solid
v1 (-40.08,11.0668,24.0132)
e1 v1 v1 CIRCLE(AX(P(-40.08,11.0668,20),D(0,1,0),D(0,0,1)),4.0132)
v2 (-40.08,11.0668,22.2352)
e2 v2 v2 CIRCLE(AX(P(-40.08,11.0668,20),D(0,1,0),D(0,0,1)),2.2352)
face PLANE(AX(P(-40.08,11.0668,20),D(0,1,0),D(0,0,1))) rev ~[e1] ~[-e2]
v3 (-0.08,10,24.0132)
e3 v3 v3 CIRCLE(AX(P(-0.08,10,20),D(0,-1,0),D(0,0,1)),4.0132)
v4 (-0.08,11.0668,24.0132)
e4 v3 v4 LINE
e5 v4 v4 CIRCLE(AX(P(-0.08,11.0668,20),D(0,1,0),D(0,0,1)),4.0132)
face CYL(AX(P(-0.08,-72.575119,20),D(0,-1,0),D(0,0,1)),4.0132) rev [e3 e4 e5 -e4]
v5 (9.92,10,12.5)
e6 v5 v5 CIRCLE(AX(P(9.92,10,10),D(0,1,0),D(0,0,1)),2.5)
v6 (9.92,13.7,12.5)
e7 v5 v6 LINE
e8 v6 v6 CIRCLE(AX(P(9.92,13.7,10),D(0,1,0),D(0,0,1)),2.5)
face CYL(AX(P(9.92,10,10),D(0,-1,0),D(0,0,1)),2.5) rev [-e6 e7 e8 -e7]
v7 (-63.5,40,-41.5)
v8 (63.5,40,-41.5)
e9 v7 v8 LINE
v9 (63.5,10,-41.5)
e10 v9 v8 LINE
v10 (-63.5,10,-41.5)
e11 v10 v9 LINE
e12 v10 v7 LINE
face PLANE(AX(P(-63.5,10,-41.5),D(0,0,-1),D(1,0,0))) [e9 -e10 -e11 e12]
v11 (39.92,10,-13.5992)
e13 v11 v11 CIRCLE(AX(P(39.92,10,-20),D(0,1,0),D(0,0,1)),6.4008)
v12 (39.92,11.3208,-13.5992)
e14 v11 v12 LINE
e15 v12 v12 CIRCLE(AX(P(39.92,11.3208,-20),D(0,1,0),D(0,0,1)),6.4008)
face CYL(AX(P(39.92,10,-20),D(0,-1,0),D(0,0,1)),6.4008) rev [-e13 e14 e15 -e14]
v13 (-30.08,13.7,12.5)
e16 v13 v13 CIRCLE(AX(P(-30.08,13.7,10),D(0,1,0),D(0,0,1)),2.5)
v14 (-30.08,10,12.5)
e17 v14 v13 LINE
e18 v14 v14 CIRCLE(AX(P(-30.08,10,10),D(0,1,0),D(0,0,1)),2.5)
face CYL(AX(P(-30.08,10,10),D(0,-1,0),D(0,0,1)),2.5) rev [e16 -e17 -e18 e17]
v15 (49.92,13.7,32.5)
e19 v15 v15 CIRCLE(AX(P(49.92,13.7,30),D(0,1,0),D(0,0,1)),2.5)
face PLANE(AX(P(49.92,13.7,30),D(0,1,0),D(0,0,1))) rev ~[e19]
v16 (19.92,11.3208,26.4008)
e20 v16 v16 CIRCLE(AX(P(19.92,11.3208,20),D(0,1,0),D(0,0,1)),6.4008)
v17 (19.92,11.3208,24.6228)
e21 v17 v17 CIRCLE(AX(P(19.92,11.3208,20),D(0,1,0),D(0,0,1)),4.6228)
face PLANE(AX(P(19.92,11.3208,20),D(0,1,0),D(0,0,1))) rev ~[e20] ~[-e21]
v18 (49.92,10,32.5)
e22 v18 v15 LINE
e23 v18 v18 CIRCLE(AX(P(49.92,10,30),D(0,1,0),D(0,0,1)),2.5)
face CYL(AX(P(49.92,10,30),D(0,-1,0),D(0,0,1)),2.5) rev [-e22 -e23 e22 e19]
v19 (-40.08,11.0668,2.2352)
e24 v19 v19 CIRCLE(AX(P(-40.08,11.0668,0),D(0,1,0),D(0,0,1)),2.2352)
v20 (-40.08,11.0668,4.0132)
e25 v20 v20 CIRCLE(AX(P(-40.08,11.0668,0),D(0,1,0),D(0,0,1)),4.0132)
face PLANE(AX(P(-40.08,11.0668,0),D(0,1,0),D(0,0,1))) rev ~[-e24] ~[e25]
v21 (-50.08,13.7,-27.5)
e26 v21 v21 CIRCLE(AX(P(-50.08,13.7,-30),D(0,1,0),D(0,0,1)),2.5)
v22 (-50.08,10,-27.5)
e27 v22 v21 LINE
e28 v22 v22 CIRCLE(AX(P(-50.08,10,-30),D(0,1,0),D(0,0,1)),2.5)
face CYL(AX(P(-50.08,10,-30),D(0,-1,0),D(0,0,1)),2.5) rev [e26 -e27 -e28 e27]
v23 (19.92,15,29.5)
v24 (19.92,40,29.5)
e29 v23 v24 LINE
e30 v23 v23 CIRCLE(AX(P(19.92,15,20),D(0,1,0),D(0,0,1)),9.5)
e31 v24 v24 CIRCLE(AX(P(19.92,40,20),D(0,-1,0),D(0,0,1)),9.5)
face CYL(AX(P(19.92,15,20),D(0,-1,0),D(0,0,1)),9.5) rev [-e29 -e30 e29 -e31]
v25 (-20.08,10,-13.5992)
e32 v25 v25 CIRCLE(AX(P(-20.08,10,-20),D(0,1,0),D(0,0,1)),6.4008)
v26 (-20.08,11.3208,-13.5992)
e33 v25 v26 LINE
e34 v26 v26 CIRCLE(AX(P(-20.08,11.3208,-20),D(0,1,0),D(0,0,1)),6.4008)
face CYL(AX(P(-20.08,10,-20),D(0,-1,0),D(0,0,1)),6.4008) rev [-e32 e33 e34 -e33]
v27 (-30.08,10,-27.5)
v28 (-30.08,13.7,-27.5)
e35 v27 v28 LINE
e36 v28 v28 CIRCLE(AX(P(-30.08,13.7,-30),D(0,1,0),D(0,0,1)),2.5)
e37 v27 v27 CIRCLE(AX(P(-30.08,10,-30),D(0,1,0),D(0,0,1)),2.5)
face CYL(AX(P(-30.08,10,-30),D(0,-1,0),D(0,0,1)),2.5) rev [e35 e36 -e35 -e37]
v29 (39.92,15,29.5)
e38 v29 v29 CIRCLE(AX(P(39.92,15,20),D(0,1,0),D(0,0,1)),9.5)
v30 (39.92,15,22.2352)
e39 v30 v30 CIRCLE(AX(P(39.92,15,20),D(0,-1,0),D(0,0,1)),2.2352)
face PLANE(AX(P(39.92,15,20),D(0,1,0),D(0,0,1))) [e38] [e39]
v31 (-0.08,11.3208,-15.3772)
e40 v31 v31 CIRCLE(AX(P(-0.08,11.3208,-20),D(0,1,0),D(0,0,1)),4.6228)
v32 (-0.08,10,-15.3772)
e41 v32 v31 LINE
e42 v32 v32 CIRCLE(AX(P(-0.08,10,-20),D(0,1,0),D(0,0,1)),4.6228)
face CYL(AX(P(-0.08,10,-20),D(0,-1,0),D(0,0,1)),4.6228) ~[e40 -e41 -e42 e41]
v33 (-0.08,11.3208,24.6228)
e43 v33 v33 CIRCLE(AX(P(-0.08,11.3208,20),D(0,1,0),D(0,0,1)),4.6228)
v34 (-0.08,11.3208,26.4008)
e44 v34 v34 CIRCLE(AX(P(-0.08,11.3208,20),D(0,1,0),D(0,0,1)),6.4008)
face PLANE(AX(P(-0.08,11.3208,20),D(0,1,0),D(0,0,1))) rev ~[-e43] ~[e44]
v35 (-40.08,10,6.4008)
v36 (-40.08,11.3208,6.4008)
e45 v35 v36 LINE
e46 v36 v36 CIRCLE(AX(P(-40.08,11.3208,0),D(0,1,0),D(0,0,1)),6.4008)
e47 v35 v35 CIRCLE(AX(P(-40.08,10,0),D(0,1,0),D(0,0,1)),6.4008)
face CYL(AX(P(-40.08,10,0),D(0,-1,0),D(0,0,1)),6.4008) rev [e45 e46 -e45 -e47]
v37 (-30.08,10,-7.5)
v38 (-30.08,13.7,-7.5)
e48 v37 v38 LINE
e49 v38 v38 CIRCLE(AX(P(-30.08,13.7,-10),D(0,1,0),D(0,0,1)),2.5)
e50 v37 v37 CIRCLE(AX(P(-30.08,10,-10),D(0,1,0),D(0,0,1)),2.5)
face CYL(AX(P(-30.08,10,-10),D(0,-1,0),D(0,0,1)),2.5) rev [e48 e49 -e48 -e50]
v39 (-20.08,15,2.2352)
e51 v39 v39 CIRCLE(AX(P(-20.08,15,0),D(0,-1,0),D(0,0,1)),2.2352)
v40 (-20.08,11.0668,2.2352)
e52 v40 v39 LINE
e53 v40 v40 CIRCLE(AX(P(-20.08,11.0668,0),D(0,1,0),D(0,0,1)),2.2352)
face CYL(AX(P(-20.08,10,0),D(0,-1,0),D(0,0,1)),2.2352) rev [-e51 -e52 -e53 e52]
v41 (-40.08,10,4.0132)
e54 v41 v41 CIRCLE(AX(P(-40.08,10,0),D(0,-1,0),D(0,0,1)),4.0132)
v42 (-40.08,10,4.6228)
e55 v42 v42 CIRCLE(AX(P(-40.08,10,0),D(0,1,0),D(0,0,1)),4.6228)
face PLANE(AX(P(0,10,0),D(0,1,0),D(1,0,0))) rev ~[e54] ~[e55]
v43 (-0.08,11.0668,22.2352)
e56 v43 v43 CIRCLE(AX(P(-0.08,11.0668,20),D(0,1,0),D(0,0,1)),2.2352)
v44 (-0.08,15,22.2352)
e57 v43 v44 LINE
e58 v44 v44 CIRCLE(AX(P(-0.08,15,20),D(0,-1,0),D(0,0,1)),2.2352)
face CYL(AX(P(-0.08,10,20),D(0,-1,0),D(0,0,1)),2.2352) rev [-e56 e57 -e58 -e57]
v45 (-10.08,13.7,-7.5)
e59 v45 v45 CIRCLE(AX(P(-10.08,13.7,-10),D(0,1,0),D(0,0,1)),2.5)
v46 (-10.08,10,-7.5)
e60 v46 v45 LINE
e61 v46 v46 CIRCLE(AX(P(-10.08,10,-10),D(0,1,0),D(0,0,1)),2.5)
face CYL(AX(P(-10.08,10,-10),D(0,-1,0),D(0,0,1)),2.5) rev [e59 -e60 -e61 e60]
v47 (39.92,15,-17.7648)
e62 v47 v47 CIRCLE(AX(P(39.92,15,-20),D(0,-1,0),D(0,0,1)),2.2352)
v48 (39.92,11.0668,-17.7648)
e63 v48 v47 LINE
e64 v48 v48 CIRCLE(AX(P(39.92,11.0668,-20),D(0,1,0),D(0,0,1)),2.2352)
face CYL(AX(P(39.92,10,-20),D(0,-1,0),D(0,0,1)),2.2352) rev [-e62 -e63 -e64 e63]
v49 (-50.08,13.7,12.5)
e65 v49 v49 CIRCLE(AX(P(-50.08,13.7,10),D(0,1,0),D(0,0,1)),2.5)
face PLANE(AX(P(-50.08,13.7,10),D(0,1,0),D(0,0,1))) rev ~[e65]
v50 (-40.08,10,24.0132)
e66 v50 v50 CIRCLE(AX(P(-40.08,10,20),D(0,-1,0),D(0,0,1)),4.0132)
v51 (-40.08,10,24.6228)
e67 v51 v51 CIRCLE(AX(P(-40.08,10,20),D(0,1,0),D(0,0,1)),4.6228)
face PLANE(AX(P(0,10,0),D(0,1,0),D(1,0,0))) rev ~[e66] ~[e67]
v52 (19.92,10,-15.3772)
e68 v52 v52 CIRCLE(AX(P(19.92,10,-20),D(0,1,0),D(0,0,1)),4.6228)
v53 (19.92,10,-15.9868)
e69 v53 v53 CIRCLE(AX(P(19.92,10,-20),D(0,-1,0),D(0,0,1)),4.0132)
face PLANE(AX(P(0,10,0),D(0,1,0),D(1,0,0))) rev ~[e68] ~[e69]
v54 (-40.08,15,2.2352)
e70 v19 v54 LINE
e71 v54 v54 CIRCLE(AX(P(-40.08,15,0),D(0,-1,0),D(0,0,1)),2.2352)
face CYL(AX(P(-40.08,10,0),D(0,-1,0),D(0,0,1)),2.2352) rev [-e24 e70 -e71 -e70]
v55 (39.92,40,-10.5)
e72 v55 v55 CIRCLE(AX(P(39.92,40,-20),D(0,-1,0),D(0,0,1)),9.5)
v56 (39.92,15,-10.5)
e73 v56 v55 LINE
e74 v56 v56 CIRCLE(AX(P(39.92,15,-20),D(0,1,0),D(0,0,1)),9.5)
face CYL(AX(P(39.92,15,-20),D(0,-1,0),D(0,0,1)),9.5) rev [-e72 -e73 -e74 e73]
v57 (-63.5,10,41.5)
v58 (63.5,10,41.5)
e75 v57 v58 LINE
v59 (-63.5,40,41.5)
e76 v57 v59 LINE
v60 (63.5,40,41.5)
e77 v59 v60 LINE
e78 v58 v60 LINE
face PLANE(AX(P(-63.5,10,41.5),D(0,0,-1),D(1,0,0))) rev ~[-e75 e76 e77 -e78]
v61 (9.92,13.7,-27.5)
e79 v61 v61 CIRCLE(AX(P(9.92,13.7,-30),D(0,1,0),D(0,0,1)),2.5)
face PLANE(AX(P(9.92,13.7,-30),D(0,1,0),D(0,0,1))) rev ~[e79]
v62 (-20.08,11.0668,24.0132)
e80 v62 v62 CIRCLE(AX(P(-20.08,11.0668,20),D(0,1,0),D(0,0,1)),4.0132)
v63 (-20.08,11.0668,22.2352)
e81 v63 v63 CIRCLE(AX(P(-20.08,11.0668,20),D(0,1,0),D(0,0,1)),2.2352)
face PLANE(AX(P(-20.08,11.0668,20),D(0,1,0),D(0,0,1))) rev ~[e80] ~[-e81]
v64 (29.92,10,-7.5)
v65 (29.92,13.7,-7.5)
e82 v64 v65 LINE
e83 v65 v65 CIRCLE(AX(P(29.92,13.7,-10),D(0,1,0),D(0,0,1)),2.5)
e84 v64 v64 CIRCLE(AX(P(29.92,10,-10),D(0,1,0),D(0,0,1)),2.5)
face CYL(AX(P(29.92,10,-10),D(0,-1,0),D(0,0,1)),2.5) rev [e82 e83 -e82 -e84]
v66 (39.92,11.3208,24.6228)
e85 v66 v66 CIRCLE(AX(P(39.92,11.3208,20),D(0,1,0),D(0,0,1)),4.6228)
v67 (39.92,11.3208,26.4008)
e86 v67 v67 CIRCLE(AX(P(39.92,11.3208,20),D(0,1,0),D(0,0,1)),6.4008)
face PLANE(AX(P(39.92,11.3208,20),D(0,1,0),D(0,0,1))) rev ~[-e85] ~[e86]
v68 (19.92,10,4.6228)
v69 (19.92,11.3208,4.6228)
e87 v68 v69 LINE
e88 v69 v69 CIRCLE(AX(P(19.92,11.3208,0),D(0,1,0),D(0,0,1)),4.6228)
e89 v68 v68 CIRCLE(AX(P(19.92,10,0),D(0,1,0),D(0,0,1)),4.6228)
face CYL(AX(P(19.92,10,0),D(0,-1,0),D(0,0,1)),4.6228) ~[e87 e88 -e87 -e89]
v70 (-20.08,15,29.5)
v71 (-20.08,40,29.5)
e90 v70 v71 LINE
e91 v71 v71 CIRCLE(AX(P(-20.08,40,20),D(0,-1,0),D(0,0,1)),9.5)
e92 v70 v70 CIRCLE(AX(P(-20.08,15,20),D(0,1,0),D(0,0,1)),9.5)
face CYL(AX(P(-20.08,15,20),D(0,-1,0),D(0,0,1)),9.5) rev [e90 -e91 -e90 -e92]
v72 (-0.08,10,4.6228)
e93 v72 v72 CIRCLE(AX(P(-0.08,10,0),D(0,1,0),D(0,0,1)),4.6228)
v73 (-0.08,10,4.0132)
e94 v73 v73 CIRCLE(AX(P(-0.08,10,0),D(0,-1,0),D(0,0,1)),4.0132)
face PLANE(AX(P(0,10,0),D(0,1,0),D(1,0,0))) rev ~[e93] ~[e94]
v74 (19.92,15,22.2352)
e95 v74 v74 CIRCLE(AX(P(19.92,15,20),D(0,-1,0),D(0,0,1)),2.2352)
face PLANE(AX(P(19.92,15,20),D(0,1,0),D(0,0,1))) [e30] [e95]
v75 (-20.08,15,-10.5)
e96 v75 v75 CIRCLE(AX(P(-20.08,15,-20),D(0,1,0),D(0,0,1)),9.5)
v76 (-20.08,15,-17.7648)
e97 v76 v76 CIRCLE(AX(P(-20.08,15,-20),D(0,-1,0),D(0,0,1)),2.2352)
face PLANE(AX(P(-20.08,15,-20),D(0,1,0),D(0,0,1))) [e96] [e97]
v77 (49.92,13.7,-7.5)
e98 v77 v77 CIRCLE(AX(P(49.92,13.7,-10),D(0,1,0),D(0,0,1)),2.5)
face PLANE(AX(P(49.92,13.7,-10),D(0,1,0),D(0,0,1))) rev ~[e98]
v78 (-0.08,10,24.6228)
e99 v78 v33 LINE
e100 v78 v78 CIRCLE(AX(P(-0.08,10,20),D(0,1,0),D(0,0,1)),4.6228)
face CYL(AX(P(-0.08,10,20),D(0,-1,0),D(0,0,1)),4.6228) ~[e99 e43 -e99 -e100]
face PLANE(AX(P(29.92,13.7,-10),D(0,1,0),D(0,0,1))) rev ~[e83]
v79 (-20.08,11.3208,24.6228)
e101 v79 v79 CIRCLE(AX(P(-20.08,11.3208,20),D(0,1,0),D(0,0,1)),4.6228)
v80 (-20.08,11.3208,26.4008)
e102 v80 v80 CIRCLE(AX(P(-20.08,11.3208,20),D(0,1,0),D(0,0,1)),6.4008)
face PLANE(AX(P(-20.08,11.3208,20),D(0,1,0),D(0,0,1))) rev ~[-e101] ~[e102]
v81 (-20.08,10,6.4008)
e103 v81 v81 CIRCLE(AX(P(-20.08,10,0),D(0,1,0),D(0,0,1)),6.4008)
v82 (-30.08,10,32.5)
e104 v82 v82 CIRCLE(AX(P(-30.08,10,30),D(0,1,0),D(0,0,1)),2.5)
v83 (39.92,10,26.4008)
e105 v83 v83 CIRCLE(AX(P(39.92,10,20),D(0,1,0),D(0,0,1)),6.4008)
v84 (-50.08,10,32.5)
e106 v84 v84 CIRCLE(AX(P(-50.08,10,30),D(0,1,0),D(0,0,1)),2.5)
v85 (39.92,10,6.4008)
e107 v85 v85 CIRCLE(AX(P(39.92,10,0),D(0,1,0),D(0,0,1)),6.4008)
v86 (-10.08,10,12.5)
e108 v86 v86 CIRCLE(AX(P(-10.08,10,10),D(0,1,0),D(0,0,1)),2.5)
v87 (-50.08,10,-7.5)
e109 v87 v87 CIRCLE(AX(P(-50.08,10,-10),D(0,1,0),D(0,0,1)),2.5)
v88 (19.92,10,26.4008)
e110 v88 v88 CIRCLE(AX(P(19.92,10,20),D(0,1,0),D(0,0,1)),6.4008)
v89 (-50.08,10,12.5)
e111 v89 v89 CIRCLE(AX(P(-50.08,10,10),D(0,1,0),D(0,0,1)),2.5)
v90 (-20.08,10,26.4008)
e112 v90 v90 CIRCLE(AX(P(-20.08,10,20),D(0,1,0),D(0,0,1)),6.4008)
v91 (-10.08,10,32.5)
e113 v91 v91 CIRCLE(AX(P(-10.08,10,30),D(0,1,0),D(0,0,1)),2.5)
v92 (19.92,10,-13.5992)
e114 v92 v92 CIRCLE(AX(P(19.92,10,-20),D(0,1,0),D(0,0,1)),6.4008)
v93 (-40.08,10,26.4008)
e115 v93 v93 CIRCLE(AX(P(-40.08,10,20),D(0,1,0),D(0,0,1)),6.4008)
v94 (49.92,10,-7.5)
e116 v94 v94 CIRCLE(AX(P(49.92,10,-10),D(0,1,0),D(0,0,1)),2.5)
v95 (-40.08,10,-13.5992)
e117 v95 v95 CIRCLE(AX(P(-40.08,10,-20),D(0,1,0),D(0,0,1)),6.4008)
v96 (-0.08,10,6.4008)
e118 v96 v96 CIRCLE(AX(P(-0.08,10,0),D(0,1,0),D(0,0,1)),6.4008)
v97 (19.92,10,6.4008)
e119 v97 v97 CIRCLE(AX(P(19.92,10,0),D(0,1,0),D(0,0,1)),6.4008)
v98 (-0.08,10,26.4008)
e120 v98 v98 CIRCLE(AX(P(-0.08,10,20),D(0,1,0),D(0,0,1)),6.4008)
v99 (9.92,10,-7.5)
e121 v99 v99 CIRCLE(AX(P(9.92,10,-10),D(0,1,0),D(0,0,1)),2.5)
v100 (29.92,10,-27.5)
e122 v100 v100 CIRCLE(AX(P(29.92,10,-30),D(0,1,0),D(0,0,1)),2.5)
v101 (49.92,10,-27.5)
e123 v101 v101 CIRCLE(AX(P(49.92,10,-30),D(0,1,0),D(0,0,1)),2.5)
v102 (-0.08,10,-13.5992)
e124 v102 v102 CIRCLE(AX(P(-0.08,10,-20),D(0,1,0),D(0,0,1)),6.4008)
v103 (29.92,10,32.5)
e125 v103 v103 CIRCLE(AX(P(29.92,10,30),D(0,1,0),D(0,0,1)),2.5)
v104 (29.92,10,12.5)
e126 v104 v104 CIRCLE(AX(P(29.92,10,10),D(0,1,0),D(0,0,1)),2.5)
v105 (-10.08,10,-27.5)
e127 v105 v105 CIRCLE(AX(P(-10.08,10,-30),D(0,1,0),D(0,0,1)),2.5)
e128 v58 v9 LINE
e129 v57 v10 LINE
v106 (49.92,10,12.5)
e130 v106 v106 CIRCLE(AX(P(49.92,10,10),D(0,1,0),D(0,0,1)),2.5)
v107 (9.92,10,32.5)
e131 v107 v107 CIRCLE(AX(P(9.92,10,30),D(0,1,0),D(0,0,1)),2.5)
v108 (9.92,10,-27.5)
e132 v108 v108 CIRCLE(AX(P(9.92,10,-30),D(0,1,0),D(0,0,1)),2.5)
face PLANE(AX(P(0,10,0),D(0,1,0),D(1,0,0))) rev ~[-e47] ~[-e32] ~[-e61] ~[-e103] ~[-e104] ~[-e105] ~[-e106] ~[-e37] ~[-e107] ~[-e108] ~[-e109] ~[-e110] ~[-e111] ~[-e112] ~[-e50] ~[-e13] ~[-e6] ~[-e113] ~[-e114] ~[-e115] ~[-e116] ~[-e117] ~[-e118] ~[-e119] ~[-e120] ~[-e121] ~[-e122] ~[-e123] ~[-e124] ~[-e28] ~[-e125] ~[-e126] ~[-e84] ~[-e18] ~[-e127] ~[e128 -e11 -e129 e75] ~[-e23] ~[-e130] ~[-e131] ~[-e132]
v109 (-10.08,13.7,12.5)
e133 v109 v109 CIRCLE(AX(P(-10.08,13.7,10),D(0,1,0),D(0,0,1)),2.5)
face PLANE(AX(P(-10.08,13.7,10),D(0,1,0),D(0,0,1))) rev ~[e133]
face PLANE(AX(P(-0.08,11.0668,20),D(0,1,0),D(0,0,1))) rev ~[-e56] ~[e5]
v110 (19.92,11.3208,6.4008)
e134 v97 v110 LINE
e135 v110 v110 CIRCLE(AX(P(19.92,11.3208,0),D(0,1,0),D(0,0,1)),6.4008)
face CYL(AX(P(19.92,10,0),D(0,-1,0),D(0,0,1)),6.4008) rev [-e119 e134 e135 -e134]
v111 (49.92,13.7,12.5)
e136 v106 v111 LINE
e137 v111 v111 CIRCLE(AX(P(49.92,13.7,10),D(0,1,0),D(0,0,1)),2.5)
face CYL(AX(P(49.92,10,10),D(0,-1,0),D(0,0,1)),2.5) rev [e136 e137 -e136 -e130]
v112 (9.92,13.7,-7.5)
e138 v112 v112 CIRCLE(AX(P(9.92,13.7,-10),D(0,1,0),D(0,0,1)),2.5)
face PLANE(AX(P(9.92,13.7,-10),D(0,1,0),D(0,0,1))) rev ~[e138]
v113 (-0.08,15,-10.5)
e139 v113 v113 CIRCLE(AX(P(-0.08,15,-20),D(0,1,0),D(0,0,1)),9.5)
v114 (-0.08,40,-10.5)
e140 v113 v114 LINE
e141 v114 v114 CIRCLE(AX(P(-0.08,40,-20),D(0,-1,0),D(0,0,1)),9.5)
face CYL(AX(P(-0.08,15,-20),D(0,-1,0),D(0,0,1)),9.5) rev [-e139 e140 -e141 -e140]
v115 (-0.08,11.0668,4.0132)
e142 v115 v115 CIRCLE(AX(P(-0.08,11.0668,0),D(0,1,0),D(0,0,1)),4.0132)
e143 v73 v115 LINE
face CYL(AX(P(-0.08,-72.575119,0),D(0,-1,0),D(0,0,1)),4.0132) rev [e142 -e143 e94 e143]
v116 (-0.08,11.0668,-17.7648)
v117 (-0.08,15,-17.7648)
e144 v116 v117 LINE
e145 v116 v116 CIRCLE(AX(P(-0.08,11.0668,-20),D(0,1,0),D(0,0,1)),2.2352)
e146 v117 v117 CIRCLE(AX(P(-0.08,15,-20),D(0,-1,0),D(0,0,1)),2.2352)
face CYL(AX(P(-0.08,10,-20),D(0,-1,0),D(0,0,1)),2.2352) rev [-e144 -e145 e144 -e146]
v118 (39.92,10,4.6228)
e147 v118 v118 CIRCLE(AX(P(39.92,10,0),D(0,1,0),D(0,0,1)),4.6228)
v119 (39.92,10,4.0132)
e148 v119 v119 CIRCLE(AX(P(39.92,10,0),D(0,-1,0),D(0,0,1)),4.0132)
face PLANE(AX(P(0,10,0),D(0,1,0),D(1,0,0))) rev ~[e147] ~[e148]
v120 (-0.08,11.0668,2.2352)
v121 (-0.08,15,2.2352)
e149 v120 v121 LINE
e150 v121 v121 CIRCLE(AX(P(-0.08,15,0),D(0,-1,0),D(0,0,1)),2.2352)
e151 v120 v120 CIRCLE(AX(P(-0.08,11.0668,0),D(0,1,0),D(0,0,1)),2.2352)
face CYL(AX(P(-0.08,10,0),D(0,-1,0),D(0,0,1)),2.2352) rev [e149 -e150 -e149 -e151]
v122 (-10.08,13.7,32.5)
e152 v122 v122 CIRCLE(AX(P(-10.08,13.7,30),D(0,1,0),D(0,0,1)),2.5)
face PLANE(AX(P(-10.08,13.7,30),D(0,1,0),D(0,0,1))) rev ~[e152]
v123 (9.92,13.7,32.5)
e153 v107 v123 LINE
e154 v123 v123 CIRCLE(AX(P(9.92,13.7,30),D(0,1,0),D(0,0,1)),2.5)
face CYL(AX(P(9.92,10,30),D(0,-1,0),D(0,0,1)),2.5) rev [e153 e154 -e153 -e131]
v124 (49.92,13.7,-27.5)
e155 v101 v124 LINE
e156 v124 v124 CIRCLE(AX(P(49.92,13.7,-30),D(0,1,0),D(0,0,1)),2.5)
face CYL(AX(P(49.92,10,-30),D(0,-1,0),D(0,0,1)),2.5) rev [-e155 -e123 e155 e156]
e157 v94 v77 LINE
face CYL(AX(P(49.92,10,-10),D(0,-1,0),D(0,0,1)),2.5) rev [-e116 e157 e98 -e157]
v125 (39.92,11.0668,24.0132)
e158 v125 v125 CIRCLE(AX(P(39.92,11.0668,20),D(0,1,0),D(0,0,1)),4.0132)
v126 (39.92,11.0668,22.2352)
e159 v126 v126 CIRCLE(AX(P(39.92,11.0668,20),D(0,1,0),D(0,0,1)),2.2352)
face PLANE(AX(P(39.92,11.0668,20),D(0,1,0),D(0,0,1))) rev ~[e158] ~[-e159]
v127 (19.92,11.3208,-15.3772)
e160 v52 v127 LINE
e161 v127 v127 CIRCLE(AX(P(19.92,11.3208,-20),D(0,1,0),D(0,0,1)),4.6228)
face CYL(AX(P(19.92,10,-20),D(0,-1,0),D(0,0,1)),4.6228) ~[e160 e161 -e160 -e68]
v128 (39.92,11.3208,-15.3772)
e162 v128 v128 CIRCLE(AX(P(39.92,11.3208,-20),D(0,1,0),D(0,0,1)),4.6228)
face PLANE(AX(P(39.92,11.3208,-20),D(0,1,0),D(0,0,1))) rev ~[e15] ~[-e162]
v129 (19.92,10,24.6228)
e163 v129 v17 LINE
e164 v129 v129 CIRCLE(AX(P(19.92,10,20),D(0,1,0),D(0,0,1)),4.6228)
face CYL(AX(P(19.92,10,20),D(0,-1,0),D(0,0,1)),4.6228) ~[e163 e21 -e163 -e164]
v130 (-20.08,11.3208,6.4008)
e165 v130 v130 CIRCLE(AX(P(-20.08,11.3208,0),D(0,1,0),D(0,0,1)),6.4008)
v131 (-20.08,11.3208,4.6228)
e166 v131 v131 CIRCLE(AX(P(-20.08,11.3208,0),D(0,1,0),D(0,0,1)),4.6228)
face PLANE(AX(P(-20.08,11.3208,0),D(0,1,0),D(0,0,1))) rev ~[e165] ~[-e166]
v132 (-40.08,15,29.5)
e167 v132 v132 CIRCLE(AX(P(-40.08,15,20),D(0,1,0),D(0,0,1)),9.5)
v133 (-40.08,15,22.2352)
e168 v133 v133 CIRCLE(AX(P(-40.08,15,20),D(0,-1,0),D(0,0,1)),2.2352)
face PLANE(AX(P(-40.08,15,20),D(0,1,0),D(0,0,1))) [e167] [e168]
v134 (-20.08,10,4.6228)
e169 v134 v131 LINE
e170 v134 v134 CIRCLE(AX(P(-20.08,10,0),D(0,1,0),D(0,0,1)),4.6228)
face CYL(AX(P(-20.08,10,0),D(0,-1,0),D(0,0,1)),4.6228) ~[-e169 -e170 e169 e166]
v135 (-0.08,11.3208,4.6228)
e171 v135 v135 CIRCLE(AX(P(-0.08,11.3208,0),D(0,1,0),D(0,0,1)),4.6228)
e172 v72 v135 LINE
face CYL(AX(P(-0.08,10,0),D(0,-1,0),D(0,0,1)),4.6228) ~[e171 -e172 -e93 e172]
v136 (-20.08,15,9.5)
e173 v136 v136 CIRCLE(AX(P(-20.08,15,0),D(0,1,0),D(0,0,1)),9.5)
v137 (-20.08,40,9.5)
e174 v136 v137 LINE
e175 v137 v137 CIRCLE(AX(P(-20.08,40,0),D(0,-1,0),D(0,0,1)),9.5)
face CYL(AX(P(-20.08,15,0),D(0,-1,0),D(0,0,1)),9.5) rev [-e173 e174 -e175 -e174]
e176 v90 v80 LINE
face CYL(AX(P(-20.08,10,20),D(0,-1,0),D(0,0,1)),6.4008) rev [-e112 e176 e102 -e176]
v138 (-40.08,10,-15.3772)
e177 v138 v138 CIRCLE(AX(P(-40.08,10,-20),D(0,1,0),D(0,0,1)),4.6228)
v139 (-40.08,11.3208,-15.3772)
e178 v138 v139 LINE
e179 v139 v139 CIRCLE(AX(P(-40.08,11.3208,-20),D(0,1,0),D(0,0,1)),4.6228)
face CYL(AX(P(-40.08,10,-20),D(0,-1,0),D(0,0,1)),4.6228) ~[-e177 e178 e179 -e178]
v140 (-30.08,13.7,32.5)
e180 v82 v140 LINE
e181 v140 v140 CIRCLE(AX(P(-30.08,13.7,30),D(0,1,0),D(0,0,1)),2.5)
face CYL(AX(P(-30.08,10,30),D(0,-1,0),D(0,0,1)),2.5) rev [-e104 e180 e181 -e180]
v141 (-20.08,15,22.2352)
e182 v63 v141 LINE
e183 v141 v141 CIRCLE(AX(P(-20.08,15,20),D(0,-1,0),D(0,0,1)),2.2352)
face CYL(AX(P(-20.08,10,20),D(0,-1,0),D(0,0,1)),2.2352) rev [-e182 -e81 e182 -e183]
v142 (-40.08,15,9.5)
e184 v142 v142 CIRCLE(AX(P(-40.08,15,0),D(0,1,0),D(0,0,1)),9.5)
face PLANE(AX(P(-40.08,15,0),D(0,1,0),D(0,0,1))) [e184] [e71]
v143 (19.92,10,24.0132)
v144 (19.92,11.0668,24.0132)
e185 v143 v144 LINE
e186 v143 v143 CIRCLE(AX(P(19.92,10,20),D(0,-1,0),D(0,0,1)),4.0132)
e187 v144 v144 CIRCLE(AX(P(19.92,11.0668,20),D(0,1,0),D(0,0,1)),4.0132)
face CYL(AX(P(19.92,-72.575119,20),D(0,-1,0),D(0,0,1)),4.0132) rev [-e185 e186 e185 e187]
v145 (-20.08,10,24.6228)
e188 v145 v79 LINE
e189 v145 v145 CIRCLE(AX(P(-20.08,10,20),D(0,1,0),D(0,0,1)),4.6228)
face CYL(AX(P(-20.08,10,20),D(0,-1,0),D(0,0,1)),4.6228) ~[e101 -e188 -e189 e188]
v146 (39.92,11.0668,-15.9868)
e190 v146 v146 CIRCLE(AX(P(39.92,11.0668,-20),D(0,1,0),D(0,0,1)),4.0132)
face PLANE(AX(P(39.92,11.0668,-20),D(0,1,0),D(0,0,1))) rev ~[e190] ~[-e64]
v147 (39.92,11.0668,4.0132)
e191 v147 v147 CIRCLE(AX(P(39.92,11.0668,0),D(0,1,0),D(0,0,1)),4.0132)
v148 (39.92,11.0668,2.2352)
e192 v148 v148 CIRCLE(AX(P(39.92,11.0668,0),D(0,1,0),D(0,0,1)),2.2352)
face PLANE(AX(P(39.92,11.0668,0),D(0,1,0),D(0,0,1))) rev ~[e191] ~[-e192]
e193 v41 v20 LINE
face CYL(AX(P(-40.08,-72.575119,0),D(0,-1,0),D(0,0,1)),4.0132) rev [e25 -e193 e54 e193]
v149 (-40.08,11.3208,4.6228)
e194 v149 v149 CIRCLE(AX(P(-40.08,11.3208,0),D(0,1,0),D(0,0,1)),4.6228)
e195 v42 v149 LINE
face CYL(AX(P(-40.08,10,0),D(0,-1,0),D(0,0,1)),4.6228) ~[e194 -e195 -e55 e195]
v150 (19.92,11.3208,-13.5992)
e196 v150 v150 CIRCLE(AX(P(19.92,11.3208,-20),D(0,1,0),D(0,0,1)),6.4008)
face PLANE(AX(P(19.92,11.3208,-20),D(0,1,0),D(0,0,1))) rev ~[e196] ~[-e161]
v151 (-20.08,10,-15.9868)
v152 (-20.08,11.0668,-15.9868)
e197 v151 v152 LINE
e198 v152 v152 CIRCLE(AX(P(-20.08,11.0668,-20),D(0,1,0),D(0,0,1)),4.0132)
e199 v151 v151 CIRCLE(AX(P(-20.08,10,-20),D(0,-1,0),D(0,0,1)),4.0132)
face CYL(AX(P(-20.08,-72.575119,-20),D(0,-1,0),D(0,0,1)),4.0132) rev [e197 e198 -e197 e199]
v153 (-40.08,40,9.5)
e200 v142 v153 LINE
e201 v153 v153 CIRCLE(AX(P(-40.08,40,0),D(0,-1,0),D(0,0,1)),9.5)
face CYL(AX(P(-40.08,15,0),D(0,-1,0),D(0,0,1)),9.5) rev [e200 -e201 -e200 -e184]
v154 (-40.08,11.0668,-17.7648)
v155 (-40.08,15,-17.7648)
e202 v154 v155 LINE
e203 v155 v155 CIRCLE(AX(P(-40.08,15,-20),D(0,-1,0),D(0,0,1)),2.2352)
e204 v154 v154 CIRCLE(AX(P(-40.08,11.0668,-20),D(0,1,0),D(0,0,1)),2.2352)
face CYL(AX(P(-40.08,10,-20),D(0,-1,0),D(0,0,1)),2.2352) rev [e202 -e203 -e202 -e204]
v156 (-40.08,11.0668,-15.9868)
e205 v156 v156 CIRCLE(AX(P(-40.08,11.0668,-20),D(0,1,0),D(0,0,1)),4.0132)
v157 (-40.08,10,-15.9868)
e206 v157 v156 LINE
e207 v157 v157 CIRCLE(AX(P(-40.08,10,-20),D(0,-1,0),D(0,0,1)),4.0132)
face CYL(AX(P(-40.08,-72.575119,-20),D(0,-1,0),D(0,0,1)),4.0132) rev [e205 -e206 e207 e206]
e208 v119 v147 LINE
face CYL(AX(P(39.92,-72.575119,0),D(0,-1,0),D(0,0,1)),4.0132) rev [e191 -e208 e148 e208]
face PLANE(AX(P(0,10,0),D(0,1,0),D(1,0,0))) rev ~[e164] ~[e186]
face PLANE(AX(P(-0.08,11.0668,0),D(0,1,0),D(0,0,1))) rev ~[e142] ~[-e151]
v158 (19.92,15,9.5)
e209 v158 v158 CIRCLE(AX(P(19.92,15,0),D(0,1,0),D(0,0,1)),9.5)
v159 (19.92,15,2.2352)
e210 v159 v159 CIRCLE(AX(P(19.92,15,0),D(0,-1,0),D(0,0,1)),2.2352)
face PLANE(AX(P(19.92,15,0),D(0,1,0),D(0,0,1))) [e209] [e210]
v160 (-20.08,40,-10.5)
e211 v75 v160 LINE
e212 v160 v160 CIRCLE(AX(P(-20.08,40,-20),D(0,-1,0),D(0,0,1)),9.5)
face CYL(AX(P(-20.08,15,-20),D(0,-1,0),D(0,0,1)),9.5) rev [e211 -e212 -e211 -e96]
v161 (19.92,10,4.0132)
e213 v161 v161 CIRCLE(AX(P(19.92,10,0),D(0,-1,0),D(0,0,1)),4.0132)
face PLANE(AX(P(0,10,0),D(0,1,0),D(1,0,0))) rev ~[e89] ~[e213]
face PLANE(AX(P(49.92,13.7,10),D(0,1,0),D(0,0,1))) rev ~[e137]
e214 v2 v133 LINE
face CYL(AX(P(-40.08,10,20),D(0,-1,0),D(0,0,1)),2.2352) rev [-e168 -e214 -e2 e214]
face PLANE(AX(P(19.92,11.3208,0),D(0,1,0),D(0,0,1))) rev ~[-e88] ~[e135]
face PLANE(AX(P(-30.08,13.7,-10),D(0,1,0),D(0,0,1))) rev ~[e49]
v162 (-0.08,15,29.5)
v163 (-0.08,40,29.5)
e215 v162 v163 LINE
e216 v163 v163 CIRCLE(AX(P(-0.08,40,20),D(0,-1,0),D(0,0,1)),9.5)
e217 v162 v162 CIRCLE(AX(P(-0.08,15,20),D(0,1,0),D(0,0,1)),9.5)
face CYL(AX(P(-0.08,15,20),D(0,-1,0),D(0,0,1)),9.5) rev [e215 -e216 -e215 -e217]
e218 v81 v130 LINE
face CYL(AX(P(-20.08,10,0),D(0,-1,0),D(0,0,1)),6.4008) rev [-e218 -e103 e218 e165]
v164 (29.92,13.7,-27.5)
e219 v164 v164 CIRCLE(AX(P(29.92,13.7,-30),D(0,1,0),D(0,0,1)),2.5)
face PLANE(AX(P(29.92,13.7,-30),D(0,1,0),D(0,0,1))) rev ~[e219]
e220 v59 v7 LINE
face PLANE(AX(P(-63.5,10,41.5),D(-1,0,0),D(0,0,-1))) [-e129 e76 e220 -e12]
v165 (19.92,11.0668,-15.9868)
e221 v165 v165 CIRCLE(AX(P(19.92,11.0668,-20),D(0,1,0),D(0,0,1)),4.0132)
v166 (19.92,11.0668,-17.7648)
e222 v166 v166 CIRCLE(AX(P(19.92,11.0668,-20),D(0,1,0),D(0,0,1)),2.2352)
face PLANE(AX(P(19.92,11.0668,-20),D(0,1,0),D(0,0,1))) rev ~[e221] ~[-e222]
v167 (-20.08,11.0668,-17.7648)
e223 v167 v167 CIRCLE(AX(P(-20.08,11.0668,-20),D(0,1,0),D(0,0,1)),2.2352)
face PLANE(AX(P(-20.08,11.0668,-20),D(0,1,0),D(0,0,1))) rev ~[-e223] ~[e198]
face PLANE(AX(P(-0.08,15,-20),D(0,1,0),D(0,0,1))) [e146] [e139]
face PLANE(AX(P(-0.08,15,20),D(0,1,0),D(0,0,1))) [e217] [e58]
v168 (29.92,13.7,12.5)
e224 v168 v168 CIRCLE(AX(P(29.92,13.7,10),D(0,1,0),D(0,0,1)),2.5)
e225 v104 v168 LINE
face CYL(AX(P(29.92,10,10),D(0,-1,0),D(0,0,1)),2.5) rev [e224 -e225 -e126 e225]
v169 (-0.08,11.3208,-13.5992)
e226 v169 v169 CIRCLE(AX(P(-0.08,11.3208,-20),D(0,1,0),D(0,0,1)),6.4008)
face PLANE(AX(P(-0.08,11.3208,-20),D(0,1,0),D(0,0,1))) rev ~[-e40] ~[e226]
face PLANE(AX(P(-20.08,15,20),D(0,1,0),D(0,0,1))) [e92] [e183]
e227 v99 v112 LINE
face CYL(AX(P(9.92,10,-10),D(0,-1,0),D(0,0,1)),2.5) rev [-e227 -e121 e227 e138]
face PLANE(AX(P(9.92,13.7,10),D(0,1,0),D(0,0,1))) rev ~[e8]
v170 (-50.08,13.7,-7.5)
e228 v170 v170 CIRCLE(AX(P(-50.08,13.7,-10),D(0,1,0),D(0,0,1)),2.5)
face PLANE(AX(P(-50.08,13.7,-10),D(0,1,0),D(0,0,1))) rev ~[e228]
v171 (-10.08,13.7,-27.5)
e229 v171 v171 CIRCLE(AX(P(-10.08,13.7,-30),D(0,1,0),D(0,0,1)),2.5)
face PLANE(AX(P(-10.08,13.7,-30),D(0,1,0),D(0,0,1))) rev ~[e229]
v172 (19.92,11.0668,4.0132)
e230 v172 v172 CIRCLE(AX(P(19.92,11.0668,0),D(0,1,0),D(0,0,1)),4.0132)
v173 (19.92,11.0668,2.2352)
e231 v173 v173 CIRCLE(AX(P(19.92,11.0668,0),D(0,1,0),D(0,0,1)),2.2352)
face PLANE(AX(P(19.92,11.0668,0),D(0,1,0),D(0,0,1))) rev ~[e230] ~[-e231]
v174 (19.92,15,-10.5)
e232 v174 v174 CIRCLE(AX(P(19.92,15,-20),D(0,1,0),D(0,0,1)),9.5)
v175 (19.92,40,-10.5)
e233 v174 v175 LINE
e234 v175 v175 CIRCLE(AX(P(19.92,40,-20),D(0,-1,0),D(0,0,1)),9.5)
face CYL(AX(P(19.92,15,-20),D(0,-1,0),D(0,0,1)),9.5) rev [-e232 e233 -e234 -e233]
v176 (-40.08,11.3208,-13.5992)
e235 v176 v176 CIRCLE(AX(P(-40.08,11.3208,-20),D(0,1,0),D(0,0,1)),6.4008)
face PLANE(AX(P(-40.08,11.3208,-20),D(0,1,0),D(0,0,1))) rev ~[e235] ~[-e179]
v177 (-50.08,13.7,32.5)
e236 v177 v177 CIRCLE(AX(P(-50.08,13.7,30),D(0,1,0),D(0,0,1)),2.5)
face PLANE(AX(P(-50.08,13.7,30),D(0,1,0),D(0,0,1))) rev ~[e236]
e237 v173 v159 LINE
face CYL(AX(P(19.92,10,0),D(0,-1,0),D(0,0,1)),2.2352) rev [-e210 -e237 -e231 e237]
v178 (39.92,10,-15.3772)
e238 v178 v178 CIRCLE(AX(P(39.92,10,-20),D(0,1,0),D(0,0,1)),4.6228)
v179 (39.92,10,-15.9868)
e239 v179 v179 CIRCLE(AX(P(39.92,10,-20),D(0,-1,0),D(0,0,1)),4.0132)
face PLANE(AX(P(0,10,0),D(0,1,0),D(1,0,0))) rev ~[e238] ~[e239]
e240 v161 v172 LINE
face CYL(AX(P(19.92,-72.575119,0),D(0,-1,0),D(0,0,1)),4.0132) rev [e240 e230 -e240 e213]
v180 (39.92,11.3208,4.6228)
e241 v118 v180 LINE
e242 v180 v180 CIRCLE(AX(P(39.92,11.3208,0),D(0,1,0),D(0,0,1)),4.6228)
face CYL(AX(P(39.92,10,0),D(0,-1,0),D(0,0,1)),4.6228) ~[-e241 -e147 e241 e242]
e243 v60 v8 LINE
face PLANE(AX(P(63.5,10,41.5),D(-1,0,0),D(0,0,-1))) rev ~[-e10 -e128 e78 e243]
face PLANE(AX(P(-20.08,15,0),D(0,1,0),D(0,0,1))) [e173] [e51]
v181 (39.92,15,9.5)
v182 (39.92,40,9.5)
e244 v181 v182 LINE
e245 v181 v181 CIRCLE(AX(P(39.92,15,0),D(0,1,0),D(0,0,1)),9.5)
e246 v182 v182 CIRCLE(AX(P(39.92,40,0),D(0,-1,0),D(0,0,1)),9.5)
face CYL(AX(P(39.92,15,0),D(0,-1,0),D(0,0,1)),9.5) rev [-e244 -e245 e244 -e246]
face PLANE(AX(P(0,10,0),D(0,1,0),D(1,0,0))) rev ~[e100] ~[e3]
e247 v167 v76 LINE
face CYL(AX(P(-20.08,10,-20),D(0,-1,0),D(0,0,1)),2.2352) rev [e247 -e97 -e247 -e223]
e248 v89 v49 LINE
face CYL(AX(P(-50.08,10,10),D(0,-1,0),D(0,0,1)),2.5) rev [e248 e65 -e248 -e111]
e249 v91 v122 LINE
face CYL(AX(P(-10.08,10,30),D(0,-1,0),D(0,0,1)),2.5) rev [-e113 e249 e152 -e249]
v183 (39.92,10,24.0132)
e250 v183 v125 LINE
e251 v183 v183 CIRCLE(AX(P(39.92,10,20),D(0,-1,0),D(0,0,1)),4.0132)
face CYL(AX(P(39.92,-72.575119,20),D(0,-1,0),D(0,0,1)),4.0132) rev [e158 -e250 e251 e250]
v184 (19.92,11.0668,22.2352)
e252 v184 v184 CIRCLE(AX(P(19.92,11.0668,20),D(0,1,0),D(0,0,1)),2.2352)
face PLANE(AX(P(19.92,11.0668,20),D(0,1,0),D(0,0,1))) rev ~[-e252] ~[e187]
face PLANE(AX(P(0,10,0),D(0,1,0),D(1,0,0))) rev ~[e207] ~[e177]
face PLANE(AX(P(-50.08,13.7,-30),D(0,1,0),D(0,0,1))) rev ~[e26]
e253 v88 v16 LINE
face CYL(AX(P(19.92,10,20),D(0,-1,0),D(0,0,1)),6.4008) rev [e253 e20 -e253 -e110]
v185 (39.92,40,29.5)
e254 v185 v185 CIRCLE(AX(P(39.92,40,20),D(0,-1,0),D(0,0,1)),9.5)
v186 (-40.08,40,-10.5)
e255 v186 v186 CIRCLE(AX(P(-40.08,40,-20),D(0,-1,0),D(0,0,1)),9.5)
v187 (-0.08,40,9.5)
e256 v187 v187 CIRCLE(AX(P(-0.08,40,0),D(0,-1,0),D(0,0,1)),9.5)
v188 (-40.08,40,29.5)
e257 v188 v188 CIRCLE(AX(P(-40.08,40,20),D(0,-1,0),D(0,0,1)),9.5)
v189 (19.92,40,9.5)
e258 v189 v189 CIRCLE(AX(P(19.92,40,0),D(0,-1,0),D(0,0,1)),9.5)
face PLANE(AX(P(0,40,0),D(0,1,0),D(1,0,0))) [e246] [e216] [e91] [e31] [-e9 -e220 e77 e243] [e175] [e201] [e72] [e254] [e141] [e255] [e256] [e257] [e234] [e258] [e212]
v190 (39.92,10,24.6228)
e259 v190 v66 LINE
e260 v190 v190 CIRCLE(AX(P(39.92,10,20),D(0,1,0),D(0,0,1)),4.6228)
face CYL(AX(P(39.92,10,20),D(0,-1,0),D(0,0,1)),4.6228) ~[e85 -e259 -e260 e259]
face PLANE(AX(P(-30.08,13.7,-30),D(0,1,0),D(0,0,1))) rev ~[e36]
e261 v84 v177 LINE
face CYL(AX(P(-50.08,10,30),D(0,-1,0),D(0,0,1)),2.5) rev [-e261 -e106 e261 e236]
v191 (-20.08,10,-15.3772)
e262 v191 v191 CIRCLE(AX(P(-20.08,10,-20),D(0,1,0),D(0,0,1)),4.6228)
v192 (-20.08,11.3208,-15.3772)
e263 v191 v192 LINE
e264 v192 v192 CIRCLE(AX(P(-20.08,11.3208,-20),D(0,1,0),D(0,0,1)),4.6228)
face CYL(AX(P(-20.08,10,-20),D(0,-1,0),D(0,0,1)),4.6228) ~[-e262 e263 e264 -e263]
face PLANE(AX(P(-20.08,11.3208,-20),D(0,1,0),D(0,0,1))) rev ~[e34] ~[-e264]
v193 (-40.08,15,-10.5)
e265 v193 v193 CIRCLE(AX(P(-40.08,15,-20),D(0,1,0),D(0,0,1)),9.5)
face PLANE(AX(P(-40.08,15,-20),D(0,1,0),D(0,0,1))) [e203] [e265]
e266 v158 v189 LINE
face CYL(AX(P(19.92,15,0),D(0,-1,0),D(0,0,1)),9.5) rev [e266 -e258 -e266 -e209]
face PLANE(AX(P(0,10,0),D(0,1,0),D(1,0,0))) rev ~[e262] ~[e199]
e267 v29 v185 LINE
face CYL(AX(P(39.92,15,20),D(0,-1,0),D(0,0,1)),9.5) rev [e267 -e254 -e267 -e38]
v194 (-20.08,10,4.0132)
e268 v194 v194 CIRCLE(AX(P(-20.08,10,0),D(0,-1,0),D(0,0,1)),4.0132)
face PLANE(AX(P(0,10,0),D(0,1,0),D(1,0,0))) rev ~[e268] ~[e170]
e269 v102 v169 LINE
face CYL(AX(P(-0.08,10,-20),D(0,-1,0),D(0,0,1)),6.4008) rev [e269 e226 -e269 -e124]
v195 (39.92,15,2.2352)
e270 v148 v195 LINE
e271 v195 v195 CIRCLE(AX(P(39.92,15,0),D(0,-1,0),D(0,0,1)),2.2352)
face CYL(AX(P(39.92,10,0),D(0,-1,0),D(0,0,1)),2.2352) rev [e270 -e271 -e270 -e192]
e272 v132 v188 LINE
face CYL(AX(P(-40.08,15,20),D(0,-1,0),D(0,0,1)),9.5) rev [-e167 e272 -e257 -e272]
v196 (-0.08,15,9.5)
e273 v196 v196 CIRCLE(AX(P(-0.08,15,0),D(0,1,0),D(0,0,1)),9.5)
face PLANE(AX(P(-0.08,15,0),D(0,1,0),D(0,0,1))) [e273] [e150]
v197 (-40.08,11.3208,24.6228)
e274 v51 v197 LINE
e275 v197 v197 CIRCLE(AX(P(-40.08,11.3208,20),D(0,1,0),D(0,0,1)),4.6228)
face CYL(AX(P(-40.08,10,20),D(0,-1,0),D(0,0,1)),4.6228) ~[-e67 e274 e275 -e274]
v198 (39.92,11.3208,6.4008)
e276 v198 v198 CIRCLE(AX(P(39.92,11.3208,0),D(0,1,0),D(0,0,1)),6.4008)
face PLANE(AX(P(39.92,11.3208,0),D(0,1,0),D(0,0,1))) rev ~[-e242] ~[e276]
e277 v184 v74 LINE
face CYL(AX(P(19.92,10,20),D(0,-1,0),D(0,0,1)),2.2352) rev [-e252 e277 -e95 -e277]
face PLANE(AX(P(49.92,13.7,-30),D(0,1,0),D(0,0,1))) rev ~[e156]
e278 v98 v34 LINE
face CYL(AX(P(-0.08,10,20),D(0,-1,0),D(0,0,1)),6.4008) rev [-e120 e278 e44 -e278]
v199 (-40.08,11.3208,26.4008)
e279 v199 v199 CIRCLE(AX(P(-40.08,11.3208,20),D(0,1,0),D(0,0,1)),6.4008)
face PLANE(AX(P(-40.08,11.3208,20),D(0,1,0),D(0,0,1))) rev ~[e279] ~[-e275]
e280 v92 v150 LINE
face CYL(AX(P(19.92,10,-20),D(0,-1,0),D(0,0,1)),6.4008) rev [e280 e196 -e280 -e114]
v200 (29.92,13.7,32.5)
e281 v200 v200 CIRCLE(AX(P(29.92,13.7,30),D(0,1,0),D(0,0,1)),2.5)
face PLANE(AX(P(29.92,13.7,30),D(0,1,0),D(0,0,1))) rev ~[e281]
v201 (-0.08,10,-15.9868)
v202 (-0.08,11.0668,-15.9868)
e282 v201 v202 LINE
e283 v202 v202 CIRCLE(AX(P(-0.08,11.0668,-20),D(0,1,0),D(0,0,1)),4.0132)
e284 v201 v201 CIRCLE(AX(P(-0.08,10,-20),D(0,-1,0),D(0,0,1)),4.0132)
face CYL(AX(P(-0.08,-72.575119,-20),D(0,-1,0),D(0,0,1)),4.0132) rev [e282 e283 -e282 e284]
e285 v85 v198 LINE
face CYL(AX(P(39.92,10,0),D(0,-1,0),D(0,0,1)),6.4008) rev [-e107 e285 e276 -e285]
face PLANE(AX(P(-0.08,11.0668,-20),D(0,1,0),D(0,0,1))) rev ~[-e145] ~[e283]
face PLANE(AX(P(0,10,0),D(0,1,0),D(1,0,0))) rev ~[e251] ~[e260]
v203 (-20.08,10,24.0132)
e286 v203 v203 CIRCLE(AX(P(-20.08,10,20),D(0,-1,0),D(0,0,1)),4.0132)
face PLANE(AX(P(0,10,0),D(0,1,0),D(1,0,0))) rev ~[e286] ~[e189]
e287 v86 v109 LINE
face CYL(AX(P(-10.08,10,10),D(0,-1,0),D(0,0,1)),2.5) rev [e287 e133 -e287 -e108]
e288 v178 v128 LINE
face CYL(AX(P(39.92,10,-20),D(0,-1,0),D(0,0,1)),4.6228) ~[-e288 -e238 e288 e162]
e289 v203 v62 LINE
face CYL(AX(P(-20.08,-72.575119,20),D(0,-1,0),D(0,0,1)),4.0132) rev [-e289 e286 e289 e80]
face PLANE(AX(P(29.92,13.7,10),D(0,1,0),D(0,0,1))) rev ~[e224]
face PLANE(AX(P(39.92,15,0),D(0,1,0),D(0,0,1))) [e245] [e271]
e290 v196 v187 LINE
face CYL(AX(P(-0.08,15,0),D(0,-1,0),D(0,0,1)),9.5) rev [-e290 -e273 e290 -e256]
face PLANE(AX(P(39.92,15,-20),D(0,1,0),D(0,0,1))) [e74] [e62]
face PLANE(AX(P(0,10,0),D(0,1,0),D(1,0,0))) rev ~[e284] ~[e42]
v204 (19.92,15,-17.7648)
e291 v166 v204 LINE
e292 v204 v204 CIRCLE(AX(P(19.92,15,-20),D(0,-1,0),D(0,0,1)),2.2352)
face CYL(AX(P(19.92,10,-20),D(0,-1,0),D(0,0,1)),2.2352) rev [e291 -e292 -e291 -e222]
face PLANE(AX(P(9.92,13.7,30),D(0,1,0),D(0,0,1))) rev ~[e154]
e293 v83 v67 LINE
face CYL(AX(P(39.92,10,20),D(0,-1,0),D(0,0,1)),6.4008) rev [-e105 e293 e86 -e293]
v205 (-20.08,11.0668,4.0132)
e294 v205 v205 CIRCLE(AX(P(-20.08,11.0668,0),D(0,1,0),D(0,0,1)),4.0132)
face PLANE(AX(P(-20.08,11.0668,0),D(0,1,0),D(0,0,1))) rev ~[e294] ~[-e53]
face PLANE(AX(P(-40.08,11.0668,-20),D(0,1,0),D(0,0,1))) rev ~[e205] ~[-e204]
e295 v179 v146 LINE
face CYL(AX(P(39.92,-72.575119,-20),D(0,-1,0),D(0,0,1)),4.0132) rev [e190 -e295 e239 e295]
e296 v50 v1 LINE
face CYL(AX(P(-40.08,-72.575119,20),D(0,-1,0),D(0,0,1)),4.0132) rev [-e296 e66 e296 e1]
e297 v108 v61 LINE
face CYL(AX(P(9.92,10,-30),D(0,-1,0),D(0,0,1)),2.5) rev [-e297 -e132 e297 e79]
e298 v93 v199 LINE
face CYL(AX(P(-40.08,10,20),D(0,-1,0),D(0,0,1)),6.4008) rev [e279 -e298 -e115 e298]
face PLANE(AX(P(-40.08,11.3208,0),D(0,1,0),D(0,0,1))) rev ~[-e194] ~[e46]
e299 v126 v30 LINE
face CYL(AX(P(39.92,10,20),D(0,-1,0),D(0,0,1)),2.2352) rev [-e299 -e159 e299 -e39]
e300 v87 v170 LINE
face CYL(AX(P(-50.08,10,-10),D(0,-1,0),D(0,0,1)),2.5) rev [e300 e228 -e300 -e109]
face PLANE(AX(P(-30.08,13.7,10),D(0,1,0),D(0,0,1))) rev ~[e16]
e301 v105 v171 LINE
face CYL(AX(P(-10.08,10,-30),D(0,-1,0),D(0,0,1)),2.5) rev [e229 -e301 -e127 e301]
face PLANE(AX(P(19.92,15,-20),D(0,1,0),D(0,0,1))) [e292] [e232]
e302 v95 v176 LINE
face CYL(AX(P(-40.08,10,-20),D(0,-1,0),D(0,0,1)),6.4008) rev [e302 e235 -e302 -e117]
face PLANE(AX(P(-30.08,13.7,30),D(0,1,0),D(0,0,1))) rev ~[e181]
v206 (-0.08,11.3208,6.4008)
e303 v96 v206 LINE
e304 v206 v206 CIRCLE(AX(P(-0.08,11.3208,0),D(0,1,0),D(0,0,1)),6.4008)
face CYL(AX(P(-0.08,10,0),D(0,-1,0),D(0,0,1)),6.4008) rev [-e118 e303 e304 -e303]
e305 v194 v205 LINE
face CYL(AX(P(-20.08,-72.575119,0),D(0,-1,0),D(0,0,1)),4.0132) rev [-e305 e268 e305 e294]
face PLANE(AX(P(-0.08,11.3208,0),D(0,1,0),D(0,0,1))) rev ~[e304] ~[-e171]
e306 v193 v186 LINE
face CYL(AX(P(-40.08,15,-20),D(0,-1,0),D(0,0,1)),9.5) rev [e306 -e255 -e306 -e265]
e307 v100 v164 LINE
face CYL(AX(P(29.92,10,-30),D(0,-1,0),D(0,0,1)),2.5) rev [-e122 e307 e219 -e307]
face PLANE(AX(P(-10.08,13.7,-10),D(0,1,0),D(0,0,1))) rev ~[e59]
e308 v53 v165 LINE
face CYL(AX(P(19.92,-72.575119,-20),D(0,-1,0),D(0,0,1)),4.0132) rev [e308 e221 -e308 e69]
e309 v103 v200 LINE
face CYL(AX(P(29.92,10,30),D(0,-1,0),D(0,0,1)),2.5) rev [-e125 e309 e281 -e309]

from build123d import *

# Parameters (mm, degrees)
SKETCH4_W            = 127
SKETCH4_H            = 83
BOSS_EXTRUDE3_DEPTH  = 30
SKETCH10_R           = 9.5
CUT_EXTRUDE11_DEPTH  = 80.871772235
SKETCH8_R            = 2.5
CUT_EXTRUDE9_DEPTH   = 3.7
SKETCH8_11_R         = 2.2352
CUT_EXTRUDE10_DEPTH  = 82.575118756
CUT_EXTRUDE12_START  = -82.575118756
SKETCH8_12_R         = 4.0132
SKETCH8_12_R_2       = 2.2352
CUT_EXTRUDE12_DEPTH  = 83.641918756
LPATTERN4_COUNT      = 6
LPATTERN4_PITCH      = 20
LPATTERN4_COUNT_DIR2 = 4
LPATTERN4_PITCH_DIR2 = 20
SKETCH8_13_R         = 6.4008
SKETCH8_13_R_2       = 4.6228
CUT_EXTRUDE16_DEPTH  = 1.3208
LPATTERN5_COUNT      = 5
LPATTERN5_PITCH      = 20
LPATTERN5_COUNT_DIR2 = 3
LPATTERN5_PITCH_DIR2 = 20


with BuildPart() as part:
    # Sketch4 → Boss-Extrude3 (new body)
    with BuildSketch(Plane(origin=(0, 10, 0), x_dir=(1, 0, 0), z_dir=(0, 1, 0))):
        Rectangle(SKETCH4_W, SKETCH4_H)
    extrude(amount=BOSS_EXTRUDE3_DEPTH)

    # Sketch10 → Cut-Extrude11 (cut, through all)
    with BuildSketch(Plane(origin=(0, 15, 0), x_dir=(1, 0, 0), z_dir=(0, 1, 0))):
        with Locations((-40.08, -20)):
            Circle(SKETCH10_R)
    cut_extrude11 = extrude(amount=CUT_EXTRUDE11_DEPTH, mode=Mode.SUBTRACT)

    # Sketch8 → Cut-Extrude9 (cut)
    with BuildSketch(Plane(origin=(0, 10, 0), x_dir=(1, 0, 0), z_dir=(0, 1, 0))):
        with Locations((-50.08, -30)):
            Circle(SKETCH8_R)
    cut_extrude9 = extrude(amount=CUT_EXTRUDE9_DEPTH, mode=Mode.SUBTRACT)

    # Sketch8<11> → Cut-Extrude10 (cut, through all)
    with BuildSketch(Plane(origin=(0, 10, 0), x_dir=(1, 0, 0), z_dir=(0, 1, 0))):
        with Locations((-40.08, -20)):
            Circle(SKETCH8_11_R)
    cut_extrude10 = extrude(amount=CUT_EXTRUDE10_DEPTH, mode=Mode.SUBTRACT)

    # Sketch8<12> → Cut-Extrude12 (cut)
    with BuildSketch(Plane(origin=(0, 10, 0), x_dir=(1, 0, 0), z_dir=(0, 1, 0)).offset(CUT_EXTRUDE12_START)):
        with Locations((-40.08, -20)):
            Circle(SKETCH8_12_R)
        with Locations((-40.08, -20)):
            Circle(SKETCH8_12_R_2, mode=Mode.SUBTRACT)
    cut_extrude12 = extrude(amount=CUT_EXTRUDE12_DEPTH, mode=Mode.SUBTRACT)

    # LPattern4: Cut-Extrude9 6 × 4
    with Locations(*[(i * LPATTERN4_PITCH, 0, -j * LPATTERN4_PITCH_DIR2) for i in range(LPATTERN4_COUNT) for j in range(LPATTERN4_COUNT_DIR2) if (i, j) != (0, 0)]):
        add(cut_extrude9, mode=Mode.SUBTRACT)

    # Sketch8<13> → Cut-Extrude16 (cut)
    with BuildSketch(Plane(origin=(0, 10, 0), x_dir=(1, 0, 0), z_dir=(0, 1, 0))):
        with Locations((-40.08, -20)):
            Circle(SKETCH8_13_R)
        with Locations((-40.08, -20)):
            Circle(SKETCH8_13_R_2, mode=Mode.SUBTRACT)
    cut_extrude16 = extrude(amount=CUT_EXTRUDE16_DEPTH, mode=Mode.SUBTRACT)

    # LPattern5: Cut-Extrude11, Cut-Extrude10, Cut-Extrude12, Cut-Extrude16 5 × 3
    with Locations(*[(i * LPATTERN5_PITCH, 0, -j * LPATTERN5_PITCH_DIR2) for i in range(LPATTERN5_COUNT) for j in range(LPATTERN5_COUNT_DIR2) if (i, j) != (0, 0)]):
        add(cut_extrude11, mode=Mode.SUBTRACT)
        add(cut_extrude10, mode=Mode.SUBTRACT)
        add(cut_extrude12, mode=Mode.SUBTRACT)
        add(cut_extrude16, mode=Mode.SUBTRACT)


solid = part.part
